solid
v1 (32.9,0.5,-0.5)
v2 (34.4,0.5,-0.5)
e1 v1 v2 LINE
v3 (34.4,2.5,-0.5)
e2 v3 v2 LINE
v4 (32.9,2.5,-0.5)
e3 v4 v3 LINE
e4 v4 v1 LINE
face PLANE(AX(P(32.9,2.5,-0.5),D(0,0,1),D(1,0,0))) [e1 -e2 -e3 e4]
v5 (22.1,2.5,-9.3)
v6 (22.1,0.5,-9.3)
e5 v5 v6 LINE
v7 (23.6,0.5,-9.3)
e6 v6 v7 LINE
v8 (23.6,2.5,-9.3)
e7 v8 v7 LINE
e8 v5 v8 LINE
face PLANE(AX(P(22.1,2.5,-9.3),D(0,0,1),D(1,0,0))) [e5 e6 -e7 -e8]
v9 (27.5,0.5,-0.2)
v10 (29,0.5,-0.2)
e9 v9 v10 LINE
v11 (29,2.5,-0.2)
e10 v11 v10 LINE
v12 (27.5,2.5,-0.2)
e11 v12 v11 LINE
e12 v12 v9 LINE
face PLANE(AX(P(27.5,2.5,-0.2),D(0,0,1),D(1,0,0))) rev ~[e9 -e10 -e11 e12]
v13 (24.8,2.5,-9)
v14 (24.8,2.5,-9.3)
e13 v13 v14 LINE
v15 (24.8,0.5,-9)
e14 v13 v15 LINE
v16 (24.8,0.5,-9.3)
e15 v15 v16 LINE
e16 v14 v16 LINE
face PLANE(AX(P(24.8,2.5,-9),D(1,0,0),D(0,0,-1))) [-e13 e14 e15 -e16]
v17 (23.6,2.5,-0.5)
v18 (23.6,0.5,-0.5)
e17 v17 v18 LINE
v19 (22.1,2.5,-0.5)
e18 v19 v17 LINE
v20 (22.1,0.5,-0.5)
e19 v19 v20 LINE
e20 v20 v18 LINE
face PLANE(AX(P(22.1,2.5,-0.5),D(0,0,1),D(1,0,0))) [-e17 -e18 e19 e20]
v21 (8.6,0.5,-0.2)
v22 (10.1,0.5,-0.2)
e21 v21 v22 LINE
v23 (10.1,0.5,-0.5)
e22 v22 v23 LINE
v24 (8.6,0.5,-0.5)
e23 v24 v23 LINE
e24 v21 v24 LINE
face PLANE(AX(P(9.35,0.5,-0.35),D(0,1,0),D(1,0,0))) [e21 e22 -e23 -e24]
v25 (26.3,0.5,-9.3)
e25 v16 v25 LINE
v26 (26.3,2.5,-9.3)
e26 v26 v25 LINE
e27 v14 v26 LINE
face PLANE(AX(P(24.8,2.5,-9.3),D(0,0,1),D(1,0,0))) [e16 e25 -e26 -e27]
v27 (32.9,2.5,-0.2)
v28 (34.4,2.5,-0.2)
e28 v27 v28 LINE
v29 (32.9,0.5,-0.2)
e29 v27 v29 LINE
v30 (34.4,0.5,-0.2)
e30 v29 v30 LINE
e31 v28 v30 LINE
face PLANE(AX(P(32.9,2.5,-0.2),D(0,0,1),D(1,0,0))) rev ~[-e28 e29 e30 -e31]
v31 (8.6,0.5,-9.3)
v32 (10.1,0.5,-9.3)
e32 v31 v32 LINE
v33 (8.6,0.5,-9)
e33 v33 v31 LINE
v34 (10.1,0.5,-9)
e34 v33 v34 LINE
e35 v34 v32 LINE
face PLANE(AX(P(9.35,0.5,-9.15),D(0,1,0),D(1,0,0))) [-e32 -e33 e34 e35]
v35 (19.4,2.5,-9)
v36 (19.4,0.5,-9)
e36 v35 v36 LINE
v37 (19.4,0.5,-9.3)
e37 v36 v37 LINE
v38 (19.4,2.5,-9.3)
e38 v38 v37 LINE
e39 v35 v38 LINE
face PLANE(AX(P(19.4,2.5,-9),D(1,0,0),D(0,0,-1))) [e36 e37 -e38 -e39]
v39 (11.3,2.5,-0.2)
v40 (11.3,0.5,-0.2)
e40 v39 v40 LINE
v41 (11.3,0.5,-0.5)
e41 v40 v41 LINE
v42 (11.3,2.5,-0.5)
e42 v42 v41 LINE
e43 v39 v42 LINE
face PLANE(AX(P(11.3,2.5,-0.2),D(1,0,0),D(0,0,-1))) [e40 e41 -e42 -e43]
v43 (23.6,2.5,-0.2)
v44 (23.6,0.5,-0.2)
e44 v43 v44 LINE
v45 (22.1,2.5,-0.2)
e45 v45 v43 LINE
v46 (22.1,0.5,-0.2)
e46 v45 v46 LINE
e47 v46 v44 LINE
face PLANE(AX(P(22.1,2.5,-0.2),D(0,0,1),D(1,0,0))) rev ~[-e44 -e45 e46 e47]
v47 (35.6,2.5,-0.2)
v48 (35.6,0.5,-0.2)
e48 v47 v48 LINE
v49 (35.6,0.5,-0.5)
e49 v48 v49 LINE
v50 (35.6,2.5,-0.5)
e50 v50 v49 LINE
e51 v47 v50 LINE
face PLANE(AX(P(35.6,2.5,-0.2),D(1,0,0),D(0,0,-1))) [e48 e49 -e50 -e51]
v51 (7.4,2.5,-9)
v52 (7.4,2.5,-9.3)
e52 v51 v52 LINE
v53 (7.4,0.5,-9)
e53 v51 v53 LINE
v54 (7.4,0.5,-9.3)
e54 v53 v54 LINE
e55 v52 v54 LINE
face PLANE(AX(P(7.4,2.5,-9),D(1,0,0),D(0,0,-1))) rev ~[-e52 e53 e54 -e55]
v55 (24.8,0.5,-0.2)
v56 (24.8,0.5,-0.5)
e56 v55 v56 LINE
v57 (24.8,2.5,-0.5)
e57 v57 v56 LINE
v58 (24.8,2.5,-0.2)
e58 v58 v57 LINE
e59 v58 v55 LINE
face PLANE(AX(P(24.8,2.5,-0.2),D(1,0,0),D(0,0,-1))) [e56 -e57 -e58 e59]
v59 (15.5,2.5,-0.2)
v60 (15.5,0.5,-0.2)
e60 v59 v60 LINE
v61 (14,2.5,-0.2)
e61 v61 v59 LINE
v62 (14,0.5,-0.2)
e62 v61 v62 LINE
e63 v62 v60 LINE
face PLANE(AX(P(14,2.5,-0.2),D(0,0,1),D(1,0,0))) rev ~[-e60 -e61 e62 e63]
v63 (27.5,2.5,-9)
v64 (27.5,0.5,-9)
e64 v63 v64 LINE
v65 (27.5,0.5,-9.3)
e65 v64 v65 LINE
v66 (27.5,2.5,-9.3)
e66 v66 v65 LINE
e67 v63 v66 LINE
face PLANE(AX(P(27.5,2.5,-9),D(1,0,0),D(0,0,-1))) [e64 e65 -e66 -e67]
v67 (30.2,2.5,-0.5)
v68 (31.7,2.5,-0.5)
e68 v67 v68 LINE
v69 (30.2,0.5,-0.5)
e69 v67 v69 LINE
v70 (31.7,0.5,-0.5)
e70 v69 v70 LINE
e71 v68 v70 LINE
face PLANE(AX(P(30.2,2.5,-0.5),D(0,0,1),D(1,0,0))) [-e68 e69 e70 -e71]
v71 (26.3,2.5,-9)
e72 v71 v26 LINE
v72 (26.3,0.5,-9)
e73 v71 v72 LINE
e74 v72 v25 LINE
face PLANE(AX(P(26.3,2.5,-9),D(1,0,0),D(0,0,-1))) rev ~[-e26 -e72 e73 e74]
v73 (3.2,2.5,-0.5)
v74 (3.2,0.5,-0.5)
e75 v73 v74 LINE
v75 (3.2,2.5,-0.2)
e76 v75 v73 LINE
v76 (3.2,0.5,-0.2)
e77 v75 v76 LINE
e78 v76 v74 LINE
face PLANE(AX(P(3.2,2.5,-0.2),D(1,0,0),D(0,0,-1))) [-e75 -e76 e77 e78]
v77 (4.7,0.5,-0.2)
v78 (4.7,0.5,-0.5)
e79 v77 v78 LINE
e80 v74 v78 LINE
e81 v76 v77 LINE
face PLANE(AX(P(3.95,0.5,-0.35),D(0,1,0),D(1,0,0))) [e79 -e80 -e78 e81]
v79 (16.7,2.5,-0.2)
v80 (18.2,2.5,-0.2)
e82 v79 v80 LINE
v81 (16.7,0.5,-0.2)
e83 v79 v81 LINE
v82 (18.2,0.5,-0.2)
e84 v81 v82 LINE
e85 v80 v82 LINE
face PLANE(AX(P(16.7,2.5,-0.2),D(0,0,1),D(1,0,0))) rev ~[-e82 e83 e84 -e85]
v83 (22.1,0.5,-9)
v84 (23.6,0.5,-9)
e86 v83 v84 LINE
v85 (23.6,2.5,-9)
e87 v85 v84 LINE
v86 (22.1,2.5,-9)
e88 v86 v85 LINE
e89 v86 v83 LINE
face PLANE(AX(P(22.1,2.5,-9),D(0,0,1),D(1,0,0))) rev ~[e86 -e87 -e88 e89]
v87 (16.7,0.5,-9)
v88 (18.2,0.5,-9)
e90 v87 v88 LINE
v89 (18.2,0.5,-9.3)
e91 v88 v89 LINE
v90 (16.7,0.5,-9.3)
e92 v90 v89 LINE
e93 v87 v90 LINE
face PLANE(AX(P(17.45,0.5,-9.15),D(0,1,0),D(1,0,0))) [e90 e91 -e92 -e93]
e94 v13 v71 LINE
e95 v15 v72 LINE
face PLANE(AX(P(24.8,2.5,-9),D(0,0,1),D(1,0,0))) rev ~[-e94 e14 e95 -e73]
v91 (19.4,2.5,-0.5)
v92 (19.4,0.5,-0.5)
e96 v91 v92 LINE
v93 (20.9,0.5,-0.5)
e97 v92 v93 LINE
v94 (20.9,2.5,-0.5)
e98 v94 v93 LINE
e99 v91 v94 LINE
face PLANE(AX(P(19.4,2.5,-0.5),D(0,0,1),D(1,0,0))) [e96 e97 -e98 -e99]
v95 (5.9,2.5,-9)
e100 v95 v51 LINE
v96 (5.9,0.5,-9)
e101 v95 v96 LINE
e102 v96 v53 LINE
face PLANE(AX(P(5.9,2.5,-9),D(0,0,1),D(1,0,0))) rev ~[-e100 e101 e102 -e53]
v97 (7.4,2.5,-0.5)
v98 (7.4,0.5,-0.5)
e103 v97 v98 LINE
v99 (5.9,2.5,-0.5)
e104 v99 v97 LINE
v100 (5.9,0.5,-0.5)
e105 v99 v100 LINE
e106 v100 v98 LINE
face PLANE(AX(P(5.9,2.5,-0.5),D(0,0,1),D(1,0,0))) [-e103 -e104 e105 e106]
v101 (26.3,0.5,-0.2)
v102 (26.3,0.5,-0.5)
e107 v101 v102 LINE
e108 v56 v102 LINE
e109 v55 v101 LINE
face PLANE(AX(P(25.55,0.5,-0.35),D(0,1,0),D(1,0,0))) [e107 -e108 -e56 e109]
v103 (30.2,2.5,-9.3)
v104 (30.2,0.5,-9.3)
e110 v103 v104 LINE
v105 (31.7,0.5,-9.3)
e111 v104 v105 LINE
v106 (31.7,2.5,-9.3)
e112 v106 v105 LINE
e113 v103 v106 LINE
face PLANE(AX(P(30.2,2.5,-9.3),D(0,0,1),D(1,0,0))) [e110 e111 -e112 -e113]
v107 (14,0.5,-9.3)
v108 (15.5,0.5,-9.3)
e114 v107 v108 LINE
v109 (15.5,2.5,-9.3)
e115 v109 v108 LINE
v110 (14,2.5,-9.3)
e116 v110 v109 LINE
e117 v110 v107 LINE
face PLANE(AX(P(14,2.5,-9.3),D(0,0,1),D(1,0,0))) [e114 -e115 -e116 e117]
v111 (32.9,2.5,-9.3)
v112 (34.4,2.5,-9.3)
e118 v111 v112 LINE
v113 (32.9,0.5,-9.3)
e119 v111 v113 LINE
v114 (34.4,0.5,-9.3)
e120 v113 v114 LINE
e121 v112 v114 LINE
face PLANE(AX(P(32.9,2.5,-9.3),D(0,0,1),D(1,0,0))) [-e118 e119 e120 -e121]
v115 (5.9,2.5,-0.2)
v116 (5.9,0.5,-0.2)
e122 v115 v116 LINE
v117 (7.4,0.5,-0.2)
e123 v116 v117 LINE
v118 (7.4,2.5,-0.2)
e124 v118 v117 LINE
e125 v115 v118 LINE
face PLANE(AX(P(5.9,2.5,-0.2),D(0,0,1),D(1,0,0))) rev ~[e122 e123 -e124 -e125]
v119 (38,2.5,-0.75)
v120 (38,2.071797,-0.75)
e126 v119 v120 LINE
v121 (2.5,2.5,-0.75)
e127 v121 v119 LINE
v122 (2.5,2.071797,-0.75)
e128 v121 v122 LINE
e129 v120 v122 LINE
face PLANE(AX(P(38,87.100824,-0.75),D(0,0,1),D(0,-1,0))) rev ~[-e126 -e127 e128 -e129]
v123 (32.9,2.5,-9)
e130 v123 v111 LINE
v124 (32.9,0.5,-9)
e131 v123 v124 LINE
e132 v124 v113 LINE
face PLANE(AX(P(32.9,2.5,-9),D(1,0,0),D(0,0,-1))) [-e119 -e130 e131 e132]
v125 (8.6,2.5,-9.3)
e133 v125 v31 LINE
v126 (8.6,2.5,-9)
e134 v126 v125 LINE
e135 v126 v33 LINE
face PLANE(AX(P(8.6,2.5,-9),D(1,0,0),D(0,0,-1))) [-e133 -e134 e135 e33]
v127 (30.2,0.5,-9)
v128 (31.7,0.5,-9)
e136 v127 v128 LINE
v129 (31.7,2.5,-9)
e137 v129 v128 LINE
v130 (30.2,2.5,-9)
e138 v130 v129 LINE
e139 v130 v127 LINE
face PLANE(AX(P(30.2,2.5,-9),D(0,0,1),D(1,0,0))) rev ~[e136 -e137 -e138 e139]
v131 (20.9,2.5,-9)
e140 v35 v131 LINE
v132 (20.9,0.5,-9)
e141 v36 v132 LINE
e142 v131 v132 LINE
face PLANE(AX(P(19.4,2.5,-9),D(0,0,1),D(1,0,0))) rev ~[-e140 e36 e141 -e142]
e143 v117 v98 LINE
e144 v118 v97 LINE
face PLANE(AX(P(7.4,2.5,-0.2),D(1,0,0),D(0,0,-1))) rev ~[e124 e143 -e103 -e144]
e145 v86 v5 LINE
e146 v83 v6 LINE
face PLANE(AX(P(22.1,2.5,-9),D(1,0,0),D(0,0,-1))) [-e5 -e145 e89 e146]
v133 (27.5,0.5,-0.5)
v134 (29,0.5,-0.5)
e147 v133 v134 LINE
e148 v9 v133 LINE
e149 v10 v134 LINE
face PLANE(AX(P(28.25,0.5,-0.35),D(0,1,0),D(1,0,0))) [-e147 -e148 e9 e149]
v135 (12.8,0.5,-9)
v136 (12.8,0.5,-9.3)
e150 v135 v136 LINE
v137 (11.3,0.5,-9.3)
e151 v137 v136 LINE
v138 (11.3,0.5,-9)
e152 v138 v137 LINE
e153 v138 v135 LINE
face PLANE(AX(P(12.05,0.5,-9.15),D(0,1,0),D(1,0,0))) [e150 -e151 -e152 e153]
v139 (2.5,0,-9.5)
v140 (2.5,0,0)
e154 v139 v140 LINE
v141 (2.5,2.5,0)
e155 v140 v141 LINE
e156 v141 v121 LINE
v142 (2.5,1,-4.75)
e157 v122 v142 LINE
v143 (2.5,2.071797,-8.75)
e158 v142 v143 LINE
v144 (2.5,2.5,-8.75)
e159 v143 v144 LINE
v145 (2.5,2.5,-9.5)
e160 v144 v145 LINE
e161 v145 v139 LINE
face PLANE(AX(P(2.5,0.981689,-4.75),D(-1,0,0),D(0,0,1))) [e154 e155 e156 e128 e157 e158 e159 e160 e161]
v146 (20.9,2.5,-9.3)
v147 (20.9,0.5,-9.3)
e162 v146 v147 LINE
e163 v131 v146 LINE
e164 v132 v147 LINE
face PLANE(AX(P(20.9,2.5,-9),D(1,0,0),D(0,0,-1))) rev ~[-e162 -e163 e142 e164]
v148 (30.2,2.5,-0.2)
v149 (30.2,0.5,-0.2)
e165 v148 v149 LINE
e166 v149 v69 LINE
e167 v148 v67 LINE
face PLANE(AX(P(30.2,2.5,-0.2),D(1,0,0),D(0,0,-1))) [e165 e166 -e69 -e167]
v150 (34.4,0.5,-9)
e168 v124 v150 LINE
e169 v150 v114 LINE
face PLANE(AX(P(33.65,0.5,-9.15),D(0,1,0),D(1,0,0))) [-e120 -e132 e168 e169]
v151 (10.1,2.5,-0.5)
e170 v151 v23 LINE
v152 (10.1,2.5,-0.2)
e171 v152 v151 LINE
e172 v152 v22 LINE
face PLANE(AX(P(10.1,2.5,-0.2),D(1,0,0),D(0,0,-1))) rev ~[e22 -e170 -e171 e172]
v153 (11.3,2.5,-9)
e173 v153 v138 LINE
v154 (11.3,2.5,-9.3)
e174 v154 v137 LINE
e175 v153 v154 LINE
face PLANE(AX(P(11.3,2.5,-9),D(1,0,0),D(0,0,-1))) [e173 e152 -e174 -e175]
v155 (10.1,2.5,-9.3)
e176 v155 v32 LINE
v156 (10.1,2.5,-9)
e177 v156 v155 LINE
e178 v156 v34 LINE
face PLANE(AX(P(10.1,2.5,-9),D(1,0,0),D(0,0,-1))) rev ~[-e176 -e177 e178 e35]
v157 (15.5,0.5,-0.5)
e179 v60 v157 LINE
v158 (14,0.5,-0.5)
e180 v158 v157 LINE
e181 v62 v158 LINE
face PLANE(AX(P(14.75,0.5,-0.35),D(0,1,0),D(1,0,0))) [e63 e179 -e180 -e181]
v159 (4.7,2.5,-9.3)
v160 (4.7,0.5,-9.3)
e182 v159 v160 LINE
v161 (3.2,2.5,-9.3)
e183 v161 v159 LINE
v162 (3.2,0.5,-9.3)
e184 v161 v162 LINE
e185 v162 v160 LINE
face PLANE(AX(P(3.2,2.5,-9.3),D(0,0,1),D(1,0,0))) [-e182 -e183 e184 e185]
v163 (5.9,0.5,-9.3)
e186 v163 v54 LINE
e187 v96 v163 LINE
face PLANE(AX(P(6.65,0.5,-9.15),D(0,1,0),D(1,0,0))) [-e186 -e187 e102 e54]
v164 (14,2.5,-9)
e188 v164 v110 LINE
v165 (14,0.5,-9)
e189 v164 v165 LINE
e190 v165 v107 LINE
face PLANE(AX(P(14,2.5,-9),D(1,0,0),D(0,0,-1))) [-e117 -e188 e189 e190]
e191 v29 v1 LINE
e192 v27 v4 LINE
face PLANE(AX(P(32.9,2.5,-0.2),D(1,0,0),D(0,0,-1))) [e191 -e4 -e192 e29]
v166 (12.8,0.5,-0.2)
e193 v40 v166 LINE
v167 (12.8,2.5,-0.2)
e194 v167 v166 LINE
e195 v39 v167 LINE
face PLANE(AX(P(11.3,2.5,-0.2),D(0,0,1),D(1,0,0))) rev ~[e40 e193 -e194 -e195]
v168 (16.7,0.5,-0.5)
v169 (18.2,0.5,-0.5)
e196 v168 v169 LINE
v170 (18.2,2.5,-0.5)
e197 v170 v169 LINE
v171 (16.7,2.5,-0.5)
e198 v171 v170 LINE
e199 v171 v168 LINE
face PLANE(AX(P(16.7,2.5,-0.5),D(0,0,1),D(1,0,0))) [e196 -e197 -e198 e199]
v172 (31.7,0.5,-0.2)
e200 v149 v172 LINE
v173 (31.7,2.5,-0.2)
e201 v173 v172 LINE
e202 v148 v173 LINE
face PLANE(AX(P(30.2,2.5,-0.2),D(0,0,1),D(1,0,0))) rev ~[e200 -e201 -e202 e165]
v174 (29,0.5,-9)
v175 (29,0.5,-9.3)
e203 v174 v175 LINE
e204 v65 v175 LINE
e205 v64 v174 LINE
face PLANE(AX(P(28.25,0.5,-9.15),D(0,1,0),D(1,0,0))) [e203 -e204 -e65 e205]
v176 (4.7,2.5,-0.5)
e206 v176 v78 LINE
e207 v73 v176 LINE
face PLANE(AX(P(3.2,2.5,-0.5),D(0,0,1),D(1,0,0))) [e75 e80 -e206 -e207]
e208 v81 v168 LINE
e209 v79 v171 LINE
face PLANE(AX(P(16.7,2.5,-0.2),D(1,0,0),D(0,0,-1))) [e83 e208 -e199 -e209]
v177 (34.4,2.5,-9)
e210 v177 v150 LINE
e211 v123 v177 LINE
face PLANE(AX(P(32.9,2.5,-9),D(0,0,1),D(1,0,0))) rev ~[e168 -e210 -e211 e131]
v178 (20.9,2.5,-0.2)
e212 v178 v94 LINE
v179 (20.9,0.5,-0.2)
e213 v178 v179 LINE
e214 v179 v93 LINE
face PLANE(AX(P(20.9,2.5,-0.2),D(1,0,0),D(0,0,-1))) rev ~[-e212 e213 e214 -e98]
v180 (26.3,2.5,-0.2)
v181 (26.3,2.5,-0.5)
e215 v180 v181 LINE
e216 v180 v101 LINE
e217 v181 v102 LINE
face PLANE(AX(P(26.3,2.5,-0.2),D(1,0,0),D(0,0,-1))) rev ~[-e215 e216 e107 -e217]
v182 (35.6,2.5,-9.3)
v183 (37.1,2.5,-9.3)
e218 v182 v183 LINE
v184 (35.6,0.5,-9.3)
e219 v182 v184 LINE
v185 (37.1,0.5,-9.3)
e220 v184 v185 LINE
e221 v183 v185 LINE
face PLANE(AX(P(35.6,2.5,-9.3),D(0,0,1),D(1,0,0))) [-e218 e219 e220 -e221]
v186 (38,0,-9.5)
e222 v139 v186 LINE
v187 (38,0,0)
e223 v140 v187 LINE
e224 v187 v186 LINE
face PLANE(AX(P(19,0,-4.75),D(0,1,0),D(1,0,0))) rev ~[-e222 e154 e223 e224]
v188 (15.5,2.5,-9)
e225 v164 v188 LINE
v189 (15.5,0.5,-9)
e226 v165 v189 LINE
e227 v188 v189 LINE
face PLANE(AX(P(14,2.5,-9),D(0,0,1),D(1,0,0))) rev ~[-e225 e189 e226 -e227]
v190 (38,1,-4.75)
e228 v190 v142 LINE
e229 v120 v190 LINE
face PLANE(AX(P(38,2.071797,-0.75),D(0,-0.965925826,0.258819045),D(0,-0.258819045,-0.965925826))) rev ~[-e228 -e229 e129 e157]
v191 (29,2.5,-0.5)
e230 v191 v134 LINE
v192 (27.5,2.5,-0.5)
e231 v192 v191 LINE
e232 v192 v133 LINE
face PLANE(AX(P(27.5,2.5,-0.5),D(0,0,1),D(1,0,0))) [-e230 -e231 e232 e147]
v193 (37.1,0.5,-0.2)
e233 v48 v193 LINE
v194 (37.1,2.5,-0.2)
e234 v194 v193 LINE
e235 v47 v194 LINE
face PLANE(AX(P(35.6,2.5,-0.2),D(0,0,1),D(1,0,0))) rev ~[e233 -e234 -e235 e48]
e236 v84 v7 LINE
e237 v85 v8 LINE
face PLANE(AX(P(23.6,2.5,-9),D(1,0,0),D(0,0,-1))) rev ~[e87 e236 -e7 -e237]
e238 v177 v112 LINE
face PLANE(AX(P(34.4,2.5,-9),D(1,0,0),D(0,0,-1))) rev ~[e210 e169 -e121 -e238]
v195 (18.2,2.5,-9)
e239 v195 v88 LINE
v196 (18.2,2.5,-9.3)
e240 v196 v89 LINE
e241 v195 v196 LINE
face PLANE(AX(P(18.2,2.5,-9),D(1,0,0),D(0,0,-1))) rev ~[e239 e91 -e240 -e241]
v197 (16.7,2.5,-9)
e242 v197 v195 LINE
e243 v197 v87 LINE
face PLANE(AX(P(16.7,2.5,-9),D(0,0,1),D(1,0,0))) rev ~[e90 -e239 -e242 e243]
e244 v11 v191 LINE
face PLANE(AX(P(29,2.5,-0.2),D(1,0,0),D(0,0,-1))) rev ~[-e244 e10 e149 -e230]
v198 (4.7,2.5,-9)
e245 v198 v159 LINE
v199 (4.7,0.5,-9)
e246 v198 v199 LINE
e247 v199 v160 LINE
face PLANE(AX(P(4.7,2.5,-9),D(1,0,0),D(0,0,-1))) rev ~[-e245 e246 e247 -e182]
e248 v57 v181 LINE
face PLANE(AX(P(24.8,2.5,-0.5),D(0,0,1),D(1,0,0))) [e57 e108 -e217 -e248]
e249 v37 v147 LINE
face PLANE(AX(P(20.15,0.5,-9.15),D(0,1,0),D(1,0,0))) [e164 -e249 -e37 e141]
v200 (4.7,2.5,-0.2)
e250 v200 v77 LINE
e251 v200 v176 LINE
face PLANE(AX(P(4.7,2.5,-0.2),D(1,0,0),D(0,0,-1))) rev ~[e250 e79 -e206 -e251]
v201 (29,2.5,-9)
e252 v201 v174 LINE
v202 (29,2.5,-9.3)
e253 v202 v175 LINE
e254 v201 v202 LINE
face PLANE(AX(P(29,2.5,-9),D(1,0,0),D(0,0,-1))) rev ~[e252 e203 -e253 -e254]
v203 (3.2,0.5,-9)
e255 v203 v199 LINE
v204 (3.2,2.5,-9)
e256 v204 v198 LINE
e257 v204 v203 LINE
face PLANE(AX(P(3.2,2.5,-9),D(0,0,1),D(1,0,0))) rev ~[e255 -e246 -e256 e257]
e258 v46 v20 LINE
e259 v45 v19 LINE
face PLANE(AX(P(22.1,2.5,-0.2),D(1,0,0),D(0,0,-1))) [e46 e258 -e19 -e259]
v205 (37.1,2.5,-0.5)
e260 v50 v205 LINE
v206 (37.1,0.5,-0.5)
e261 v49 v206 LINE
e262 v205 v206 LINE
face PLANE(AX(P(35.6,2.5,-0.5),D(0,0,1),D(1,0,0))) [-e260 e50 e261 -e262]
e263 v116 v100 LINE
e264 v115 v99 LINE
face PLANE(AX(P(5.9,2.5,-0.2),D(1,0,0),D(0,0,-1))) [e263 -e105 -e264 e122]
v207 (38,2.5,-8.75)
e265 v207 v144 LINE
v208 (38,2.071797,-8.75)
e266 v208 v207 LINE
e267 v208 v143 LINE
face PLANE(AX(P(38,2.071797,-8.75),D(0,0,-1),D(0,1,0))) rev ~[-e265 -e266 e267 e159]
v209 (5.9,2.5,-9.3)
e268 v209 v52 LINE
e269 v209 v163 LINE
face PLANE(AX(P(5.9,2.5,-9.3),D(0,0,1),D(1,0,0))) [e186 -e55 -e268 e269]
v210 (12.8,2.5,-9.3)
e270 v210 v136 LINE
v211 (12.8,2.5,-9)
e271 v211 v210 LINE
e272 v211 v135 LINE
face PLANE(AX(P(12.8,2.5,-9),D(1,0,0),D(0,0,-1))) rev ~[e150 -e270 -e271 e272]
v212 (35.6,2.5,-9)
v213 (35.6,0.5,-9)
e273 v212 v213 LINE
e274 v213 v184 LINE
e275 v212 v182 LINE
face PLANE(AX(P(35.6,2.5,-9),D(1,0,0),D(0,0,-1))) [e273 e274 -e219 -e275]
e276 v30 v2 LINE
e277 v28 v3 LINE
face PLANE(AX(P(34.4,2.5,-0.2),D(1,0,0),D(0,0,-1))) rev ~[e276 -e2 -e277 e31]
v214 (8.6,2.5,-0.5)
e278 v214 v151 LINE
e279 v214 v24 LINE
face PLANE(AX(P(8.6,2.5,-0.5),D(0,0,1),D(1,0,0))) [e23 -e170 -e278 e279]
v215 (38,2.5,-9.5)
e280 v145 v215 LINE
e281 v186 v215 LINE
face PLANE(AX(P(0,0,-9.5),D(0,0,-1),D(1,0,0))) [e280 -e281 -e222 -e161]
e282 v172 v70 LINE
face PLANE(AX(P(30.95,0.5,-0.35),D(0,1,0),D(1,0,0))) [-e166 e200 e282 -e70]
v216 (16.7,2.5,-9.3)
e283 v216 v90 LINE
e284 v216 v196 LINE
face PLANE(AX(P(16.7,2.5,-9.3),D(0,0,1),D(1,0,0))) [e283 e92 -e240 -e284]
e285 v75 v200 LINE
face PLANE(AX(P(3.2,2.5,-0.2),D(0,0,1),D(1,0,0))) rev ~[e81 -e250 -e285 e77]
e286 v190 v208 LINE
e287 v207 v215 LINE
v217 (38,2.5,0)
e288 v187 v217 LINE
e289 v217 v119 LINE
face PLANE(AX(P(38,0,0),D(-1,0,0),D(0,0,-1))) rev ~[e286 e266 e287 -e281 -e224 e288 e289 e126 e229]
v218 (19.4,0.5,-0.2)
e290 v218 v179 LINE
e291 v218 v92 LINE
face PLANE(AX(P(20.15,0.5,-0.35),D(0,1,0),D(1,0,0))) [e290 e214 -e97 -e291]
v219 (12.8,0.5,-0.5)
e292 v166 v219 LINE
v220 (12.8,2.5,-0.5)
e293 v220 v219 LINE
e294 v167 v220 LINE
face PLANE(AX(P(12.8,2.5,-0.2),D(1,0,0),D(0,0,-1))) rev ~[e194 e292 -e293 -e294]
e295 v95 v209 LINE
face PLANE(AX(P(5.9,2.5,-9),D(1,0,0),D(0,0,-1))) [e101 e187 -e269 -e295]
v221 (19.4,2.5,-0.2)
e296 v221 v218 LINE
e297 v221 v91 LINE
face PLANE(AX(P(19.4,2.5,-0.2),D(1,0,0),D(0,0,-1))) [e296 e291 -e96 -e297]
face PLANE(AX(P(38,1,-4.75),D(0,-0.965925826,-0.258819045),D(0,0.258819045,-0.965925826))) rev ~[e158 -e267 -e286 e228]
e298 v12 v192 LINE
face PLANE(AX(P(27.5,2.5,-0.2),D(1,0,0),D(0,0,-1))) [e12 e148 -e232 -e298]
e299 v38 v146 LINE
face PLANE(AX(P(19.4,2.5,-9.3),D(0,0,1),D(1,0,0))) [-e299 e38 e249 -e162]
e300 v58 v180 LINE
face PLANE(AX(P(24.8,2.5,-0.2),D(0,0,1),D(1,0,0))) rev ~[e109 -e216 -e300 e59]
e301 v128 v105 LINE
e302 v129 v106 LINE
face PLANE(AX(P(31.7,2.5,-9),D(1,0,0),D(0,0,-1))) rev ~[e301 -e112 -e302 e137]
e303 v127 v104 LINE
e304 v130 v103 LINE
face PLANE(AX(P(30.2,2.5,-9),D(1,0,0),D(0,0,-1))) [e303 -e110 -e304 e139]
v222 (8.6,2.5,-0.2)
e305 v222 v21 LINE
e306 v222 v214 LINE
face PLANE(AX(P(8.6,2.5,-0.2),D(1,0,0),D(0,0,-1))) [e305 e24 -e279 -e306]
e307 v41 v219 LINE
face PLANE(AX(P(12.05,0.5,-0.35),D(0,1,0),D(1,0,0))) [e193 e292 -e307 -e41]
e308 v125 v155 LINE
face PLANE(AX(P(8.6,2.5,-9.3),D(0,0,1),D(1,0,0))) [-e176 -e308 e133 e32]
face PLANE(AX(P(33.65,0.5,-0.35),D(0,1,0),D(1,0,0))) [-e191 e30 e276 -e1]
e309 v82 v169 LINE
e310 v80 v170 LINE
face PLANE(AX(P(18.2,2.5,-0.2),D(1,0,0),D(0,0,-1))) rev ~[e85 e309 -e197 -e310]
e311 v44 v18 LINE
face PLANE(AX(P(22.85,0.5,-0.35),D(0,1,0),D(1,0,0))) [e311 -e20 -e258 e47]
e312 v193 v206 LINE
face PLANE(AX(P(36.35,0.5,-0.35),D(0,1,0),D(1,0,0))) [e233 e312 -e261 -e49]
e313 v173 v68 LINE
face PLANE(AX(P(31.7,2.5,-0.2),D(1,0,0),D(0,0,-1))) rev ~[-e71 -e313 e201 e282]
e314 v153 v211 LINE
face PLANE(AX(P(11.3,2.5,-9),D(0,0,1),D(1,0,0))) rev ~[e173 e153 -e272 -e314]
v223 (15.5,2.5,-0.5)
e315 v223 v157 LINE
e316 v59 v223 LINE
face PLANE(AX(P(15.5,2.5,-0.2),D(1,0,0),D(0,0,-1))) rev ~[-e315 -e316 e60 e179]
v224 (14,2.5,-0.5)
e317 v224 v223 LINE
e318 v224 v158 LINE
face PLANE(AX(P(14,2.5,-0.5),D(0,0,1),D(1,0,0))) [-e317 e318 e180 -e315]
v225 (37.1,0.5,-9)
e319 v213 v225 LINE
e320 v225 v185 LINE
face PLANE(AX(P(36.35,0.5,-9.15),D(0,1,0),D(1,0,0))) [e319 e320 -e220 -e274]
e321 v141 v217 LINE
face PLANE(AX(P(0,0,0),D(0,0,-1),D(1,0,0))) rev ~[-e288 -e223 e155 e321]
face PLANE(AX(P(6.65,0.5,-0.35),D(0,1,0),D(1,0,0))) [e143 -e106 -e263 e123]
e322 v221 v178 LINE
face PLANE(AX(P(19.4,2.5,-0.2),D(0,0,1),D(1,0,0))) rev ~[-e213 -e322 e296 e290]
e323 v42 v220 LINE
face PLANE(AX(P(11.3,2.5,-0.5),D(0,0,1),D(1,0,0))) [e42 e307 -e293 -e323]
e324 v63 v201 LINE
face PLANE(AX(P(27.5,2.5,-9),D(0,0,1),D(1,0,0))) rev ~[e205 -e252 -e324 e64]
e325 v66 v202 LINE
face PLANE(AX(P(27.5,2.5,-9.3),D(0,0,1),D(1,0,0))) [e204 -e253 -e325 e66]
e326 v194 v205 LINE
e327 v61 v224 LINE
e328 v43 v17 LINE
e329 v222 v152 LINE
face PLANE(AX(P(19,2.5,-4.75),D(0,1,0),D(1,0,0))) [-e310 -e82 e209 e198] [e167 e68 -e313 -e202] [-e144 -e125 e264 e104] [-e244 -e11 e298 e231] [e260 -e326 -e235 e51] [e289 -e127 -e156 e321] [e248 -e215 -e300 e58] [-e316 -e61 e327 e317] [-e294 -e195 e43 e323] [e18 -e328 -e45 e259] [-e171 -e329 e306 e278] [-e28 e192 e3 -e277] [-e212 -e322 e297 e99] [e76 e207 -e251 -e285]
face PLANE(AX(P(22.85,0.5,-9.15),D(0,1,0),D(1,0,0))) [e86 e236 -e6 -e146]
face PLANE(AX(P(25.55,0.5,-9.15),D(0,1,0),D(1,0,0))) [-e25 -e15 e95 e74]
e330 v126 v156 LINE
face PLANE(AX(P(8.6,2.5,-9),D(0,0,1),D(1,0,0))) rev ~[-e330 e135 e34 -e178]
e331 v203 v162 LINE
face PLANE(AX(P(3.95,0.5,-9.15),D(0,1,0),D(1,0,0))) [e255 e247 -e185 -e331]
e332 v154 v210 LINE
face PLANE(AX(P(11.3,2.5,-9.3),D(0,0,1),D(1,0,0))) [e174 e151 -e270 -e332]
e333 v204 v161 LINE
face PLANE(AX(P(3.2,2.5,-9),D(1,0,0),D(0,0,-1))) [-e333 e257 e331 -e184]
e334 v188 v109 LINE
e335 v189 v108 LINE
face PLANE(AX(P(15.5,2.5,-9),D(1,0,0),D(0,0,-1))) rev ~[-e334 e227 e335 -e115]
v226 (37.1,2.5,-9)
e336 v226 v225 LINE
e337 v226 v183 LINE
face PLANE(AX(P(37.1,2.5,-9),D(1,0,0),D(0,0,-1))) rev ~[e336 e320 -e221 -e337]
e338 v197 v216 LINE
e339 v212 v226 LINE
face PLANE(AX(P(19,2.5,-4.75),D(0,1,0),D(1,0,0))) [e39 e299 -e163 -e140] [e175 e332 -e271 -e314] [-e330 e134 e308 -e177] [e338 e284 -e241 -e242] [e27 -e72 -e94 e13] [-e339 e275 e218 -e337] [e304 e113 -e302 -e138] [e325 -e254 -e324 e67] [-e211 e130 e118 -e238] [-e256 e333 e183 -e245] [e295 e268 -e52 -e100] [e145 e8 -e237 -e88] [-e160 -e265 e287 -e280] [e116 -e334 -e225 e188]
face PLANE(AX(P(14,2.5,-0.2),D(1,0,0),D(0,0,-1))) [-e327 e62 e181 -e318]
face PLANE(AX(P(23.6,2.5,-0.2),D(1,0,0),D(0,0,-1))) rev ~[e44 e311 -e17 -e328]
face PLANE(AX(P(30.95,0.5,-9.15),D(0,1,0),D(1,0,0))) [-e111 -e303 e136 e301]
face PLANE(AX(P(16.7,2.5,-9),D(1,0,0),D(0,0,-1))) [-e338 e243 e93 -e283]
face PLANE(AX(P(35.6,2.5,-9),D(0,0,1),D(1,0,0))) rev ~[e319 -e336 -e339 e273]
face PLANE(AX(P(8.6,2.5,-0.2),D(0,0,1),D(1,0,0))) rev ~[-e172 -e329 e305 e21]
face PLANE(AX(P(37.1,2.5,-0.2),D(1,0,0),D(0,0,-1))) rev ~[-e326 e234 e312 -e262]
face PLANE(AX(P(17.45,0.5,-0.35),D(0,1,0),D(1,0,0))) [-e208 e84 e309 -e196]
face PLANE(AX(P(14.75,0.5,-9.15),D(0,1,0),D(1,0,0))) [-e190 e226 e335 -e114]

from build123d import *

# Parameters (mm, degrees)
SKETCH1_W               = 38
SKETCH1_H               = 9.5
BOSS_EXTRUDE1_DEPTH     = 2.5
SKETCH2_W               = 1.5
SKETCH2_H               = 0.3
CUT_EXTRUDE1_DEPTH      = 2
LPATTERN1_COUNT         = 14
LPATTERN1_PITCH         = 2.7
LPATTERN1_COUNT_DIR2    = 2
LPATTERN1_PITCH_DIR2    = 8.8
CUT_EXTRUDE2_DEPTH      = 1
CUT_EXTRUDE2_DEPTH_BACK = 39
CUT_EXTRUDE3_DEPTH      = 2.5


with BuildPart() as part:
    # Sketch1 → Boss-Extrude1 (new body)
    with BuildSketch(Plane(origin=(0, 0, 0), x_dir=(1, 0, 0), z_dir=(0, 1, 0))):
        with Locations((19, 4.75)):
            Rectangle(SKETCH1_W, SKETCH1_H)
    extrude(amount=BOSS_EXTRUDE1_DEPTH)

    # Sketch2 → Cut-Extrude1 (cut)
    with BuildSketch(Plane(origin=(0, 2.5, 0), x_dir=(1, 0, 0), z_dir=(0, 1, 0))):
        with Locations((1.25, 0.35)):
            Rectangle(SKETCH2_W, SKETCH2_H)
    cut_extrude1 = extrude(amount=-CUT_EXTRUDE1_DEPTH, mode=Mode.SUBTRACT)

    # LPattern1: Cut-Extrude1 14 × 2
    with Locations(*[(i * LPATTERN1_PITCH, 0, -j * LPATTERN1_PITCH_DIR2) for i in range(LPATTERN1_COUNT) for j in range(LPATTERN1_COUNT_DIR2) if (i, j) != (0, 0)]):
        add(cut_extrude1, mode=Mode.SUBTRACT)

    # Sketch4 → Cut-Extrude2 (cut, two sides)
    with BuildSketch(Plane(origin=(38, 0, 0), x_dir=(0, 0, -1), z_dir=(1, 0, 0))) as cut_extrude2_sk:
        Polygon((0.75, 30.700274723), (0.75, 2.5), (0.75, 2.07179677), (4.75, 1), (8.75, 2.07179677), (8.75, 2.5), (8.75, 30.700274723), (8.75, 87.10082417), (0.75, 87.10082417), align=None)
    extrude(amount=CUT_EXTRUDE2_DEPTH, mode=Mode.SUBTRACT)
    extrude(cut_extrude2_sk.sketch, amount=-CUT_EXTRUDE2_DEPTH_BACK, mode=Mode.SUBTRACT)

    # Sketch5 → Cut-Extrude3 (cut)
    with BuildSketch(Plane.ZY):
        Polygon((-0.75, 2.5), (-0.75, 2.07179677), (-4.75, 1), (-8.75, 2.07179677), (-8.75, 2.5), (-9.5, 2.5), (-9.5, 0), (0, 0), (0, 2.5), align=None)
    extrude(amount=-CUT_EXTRUDE3_DEPTH, mode=Mode.SUBTRACT)


solid = part.part
